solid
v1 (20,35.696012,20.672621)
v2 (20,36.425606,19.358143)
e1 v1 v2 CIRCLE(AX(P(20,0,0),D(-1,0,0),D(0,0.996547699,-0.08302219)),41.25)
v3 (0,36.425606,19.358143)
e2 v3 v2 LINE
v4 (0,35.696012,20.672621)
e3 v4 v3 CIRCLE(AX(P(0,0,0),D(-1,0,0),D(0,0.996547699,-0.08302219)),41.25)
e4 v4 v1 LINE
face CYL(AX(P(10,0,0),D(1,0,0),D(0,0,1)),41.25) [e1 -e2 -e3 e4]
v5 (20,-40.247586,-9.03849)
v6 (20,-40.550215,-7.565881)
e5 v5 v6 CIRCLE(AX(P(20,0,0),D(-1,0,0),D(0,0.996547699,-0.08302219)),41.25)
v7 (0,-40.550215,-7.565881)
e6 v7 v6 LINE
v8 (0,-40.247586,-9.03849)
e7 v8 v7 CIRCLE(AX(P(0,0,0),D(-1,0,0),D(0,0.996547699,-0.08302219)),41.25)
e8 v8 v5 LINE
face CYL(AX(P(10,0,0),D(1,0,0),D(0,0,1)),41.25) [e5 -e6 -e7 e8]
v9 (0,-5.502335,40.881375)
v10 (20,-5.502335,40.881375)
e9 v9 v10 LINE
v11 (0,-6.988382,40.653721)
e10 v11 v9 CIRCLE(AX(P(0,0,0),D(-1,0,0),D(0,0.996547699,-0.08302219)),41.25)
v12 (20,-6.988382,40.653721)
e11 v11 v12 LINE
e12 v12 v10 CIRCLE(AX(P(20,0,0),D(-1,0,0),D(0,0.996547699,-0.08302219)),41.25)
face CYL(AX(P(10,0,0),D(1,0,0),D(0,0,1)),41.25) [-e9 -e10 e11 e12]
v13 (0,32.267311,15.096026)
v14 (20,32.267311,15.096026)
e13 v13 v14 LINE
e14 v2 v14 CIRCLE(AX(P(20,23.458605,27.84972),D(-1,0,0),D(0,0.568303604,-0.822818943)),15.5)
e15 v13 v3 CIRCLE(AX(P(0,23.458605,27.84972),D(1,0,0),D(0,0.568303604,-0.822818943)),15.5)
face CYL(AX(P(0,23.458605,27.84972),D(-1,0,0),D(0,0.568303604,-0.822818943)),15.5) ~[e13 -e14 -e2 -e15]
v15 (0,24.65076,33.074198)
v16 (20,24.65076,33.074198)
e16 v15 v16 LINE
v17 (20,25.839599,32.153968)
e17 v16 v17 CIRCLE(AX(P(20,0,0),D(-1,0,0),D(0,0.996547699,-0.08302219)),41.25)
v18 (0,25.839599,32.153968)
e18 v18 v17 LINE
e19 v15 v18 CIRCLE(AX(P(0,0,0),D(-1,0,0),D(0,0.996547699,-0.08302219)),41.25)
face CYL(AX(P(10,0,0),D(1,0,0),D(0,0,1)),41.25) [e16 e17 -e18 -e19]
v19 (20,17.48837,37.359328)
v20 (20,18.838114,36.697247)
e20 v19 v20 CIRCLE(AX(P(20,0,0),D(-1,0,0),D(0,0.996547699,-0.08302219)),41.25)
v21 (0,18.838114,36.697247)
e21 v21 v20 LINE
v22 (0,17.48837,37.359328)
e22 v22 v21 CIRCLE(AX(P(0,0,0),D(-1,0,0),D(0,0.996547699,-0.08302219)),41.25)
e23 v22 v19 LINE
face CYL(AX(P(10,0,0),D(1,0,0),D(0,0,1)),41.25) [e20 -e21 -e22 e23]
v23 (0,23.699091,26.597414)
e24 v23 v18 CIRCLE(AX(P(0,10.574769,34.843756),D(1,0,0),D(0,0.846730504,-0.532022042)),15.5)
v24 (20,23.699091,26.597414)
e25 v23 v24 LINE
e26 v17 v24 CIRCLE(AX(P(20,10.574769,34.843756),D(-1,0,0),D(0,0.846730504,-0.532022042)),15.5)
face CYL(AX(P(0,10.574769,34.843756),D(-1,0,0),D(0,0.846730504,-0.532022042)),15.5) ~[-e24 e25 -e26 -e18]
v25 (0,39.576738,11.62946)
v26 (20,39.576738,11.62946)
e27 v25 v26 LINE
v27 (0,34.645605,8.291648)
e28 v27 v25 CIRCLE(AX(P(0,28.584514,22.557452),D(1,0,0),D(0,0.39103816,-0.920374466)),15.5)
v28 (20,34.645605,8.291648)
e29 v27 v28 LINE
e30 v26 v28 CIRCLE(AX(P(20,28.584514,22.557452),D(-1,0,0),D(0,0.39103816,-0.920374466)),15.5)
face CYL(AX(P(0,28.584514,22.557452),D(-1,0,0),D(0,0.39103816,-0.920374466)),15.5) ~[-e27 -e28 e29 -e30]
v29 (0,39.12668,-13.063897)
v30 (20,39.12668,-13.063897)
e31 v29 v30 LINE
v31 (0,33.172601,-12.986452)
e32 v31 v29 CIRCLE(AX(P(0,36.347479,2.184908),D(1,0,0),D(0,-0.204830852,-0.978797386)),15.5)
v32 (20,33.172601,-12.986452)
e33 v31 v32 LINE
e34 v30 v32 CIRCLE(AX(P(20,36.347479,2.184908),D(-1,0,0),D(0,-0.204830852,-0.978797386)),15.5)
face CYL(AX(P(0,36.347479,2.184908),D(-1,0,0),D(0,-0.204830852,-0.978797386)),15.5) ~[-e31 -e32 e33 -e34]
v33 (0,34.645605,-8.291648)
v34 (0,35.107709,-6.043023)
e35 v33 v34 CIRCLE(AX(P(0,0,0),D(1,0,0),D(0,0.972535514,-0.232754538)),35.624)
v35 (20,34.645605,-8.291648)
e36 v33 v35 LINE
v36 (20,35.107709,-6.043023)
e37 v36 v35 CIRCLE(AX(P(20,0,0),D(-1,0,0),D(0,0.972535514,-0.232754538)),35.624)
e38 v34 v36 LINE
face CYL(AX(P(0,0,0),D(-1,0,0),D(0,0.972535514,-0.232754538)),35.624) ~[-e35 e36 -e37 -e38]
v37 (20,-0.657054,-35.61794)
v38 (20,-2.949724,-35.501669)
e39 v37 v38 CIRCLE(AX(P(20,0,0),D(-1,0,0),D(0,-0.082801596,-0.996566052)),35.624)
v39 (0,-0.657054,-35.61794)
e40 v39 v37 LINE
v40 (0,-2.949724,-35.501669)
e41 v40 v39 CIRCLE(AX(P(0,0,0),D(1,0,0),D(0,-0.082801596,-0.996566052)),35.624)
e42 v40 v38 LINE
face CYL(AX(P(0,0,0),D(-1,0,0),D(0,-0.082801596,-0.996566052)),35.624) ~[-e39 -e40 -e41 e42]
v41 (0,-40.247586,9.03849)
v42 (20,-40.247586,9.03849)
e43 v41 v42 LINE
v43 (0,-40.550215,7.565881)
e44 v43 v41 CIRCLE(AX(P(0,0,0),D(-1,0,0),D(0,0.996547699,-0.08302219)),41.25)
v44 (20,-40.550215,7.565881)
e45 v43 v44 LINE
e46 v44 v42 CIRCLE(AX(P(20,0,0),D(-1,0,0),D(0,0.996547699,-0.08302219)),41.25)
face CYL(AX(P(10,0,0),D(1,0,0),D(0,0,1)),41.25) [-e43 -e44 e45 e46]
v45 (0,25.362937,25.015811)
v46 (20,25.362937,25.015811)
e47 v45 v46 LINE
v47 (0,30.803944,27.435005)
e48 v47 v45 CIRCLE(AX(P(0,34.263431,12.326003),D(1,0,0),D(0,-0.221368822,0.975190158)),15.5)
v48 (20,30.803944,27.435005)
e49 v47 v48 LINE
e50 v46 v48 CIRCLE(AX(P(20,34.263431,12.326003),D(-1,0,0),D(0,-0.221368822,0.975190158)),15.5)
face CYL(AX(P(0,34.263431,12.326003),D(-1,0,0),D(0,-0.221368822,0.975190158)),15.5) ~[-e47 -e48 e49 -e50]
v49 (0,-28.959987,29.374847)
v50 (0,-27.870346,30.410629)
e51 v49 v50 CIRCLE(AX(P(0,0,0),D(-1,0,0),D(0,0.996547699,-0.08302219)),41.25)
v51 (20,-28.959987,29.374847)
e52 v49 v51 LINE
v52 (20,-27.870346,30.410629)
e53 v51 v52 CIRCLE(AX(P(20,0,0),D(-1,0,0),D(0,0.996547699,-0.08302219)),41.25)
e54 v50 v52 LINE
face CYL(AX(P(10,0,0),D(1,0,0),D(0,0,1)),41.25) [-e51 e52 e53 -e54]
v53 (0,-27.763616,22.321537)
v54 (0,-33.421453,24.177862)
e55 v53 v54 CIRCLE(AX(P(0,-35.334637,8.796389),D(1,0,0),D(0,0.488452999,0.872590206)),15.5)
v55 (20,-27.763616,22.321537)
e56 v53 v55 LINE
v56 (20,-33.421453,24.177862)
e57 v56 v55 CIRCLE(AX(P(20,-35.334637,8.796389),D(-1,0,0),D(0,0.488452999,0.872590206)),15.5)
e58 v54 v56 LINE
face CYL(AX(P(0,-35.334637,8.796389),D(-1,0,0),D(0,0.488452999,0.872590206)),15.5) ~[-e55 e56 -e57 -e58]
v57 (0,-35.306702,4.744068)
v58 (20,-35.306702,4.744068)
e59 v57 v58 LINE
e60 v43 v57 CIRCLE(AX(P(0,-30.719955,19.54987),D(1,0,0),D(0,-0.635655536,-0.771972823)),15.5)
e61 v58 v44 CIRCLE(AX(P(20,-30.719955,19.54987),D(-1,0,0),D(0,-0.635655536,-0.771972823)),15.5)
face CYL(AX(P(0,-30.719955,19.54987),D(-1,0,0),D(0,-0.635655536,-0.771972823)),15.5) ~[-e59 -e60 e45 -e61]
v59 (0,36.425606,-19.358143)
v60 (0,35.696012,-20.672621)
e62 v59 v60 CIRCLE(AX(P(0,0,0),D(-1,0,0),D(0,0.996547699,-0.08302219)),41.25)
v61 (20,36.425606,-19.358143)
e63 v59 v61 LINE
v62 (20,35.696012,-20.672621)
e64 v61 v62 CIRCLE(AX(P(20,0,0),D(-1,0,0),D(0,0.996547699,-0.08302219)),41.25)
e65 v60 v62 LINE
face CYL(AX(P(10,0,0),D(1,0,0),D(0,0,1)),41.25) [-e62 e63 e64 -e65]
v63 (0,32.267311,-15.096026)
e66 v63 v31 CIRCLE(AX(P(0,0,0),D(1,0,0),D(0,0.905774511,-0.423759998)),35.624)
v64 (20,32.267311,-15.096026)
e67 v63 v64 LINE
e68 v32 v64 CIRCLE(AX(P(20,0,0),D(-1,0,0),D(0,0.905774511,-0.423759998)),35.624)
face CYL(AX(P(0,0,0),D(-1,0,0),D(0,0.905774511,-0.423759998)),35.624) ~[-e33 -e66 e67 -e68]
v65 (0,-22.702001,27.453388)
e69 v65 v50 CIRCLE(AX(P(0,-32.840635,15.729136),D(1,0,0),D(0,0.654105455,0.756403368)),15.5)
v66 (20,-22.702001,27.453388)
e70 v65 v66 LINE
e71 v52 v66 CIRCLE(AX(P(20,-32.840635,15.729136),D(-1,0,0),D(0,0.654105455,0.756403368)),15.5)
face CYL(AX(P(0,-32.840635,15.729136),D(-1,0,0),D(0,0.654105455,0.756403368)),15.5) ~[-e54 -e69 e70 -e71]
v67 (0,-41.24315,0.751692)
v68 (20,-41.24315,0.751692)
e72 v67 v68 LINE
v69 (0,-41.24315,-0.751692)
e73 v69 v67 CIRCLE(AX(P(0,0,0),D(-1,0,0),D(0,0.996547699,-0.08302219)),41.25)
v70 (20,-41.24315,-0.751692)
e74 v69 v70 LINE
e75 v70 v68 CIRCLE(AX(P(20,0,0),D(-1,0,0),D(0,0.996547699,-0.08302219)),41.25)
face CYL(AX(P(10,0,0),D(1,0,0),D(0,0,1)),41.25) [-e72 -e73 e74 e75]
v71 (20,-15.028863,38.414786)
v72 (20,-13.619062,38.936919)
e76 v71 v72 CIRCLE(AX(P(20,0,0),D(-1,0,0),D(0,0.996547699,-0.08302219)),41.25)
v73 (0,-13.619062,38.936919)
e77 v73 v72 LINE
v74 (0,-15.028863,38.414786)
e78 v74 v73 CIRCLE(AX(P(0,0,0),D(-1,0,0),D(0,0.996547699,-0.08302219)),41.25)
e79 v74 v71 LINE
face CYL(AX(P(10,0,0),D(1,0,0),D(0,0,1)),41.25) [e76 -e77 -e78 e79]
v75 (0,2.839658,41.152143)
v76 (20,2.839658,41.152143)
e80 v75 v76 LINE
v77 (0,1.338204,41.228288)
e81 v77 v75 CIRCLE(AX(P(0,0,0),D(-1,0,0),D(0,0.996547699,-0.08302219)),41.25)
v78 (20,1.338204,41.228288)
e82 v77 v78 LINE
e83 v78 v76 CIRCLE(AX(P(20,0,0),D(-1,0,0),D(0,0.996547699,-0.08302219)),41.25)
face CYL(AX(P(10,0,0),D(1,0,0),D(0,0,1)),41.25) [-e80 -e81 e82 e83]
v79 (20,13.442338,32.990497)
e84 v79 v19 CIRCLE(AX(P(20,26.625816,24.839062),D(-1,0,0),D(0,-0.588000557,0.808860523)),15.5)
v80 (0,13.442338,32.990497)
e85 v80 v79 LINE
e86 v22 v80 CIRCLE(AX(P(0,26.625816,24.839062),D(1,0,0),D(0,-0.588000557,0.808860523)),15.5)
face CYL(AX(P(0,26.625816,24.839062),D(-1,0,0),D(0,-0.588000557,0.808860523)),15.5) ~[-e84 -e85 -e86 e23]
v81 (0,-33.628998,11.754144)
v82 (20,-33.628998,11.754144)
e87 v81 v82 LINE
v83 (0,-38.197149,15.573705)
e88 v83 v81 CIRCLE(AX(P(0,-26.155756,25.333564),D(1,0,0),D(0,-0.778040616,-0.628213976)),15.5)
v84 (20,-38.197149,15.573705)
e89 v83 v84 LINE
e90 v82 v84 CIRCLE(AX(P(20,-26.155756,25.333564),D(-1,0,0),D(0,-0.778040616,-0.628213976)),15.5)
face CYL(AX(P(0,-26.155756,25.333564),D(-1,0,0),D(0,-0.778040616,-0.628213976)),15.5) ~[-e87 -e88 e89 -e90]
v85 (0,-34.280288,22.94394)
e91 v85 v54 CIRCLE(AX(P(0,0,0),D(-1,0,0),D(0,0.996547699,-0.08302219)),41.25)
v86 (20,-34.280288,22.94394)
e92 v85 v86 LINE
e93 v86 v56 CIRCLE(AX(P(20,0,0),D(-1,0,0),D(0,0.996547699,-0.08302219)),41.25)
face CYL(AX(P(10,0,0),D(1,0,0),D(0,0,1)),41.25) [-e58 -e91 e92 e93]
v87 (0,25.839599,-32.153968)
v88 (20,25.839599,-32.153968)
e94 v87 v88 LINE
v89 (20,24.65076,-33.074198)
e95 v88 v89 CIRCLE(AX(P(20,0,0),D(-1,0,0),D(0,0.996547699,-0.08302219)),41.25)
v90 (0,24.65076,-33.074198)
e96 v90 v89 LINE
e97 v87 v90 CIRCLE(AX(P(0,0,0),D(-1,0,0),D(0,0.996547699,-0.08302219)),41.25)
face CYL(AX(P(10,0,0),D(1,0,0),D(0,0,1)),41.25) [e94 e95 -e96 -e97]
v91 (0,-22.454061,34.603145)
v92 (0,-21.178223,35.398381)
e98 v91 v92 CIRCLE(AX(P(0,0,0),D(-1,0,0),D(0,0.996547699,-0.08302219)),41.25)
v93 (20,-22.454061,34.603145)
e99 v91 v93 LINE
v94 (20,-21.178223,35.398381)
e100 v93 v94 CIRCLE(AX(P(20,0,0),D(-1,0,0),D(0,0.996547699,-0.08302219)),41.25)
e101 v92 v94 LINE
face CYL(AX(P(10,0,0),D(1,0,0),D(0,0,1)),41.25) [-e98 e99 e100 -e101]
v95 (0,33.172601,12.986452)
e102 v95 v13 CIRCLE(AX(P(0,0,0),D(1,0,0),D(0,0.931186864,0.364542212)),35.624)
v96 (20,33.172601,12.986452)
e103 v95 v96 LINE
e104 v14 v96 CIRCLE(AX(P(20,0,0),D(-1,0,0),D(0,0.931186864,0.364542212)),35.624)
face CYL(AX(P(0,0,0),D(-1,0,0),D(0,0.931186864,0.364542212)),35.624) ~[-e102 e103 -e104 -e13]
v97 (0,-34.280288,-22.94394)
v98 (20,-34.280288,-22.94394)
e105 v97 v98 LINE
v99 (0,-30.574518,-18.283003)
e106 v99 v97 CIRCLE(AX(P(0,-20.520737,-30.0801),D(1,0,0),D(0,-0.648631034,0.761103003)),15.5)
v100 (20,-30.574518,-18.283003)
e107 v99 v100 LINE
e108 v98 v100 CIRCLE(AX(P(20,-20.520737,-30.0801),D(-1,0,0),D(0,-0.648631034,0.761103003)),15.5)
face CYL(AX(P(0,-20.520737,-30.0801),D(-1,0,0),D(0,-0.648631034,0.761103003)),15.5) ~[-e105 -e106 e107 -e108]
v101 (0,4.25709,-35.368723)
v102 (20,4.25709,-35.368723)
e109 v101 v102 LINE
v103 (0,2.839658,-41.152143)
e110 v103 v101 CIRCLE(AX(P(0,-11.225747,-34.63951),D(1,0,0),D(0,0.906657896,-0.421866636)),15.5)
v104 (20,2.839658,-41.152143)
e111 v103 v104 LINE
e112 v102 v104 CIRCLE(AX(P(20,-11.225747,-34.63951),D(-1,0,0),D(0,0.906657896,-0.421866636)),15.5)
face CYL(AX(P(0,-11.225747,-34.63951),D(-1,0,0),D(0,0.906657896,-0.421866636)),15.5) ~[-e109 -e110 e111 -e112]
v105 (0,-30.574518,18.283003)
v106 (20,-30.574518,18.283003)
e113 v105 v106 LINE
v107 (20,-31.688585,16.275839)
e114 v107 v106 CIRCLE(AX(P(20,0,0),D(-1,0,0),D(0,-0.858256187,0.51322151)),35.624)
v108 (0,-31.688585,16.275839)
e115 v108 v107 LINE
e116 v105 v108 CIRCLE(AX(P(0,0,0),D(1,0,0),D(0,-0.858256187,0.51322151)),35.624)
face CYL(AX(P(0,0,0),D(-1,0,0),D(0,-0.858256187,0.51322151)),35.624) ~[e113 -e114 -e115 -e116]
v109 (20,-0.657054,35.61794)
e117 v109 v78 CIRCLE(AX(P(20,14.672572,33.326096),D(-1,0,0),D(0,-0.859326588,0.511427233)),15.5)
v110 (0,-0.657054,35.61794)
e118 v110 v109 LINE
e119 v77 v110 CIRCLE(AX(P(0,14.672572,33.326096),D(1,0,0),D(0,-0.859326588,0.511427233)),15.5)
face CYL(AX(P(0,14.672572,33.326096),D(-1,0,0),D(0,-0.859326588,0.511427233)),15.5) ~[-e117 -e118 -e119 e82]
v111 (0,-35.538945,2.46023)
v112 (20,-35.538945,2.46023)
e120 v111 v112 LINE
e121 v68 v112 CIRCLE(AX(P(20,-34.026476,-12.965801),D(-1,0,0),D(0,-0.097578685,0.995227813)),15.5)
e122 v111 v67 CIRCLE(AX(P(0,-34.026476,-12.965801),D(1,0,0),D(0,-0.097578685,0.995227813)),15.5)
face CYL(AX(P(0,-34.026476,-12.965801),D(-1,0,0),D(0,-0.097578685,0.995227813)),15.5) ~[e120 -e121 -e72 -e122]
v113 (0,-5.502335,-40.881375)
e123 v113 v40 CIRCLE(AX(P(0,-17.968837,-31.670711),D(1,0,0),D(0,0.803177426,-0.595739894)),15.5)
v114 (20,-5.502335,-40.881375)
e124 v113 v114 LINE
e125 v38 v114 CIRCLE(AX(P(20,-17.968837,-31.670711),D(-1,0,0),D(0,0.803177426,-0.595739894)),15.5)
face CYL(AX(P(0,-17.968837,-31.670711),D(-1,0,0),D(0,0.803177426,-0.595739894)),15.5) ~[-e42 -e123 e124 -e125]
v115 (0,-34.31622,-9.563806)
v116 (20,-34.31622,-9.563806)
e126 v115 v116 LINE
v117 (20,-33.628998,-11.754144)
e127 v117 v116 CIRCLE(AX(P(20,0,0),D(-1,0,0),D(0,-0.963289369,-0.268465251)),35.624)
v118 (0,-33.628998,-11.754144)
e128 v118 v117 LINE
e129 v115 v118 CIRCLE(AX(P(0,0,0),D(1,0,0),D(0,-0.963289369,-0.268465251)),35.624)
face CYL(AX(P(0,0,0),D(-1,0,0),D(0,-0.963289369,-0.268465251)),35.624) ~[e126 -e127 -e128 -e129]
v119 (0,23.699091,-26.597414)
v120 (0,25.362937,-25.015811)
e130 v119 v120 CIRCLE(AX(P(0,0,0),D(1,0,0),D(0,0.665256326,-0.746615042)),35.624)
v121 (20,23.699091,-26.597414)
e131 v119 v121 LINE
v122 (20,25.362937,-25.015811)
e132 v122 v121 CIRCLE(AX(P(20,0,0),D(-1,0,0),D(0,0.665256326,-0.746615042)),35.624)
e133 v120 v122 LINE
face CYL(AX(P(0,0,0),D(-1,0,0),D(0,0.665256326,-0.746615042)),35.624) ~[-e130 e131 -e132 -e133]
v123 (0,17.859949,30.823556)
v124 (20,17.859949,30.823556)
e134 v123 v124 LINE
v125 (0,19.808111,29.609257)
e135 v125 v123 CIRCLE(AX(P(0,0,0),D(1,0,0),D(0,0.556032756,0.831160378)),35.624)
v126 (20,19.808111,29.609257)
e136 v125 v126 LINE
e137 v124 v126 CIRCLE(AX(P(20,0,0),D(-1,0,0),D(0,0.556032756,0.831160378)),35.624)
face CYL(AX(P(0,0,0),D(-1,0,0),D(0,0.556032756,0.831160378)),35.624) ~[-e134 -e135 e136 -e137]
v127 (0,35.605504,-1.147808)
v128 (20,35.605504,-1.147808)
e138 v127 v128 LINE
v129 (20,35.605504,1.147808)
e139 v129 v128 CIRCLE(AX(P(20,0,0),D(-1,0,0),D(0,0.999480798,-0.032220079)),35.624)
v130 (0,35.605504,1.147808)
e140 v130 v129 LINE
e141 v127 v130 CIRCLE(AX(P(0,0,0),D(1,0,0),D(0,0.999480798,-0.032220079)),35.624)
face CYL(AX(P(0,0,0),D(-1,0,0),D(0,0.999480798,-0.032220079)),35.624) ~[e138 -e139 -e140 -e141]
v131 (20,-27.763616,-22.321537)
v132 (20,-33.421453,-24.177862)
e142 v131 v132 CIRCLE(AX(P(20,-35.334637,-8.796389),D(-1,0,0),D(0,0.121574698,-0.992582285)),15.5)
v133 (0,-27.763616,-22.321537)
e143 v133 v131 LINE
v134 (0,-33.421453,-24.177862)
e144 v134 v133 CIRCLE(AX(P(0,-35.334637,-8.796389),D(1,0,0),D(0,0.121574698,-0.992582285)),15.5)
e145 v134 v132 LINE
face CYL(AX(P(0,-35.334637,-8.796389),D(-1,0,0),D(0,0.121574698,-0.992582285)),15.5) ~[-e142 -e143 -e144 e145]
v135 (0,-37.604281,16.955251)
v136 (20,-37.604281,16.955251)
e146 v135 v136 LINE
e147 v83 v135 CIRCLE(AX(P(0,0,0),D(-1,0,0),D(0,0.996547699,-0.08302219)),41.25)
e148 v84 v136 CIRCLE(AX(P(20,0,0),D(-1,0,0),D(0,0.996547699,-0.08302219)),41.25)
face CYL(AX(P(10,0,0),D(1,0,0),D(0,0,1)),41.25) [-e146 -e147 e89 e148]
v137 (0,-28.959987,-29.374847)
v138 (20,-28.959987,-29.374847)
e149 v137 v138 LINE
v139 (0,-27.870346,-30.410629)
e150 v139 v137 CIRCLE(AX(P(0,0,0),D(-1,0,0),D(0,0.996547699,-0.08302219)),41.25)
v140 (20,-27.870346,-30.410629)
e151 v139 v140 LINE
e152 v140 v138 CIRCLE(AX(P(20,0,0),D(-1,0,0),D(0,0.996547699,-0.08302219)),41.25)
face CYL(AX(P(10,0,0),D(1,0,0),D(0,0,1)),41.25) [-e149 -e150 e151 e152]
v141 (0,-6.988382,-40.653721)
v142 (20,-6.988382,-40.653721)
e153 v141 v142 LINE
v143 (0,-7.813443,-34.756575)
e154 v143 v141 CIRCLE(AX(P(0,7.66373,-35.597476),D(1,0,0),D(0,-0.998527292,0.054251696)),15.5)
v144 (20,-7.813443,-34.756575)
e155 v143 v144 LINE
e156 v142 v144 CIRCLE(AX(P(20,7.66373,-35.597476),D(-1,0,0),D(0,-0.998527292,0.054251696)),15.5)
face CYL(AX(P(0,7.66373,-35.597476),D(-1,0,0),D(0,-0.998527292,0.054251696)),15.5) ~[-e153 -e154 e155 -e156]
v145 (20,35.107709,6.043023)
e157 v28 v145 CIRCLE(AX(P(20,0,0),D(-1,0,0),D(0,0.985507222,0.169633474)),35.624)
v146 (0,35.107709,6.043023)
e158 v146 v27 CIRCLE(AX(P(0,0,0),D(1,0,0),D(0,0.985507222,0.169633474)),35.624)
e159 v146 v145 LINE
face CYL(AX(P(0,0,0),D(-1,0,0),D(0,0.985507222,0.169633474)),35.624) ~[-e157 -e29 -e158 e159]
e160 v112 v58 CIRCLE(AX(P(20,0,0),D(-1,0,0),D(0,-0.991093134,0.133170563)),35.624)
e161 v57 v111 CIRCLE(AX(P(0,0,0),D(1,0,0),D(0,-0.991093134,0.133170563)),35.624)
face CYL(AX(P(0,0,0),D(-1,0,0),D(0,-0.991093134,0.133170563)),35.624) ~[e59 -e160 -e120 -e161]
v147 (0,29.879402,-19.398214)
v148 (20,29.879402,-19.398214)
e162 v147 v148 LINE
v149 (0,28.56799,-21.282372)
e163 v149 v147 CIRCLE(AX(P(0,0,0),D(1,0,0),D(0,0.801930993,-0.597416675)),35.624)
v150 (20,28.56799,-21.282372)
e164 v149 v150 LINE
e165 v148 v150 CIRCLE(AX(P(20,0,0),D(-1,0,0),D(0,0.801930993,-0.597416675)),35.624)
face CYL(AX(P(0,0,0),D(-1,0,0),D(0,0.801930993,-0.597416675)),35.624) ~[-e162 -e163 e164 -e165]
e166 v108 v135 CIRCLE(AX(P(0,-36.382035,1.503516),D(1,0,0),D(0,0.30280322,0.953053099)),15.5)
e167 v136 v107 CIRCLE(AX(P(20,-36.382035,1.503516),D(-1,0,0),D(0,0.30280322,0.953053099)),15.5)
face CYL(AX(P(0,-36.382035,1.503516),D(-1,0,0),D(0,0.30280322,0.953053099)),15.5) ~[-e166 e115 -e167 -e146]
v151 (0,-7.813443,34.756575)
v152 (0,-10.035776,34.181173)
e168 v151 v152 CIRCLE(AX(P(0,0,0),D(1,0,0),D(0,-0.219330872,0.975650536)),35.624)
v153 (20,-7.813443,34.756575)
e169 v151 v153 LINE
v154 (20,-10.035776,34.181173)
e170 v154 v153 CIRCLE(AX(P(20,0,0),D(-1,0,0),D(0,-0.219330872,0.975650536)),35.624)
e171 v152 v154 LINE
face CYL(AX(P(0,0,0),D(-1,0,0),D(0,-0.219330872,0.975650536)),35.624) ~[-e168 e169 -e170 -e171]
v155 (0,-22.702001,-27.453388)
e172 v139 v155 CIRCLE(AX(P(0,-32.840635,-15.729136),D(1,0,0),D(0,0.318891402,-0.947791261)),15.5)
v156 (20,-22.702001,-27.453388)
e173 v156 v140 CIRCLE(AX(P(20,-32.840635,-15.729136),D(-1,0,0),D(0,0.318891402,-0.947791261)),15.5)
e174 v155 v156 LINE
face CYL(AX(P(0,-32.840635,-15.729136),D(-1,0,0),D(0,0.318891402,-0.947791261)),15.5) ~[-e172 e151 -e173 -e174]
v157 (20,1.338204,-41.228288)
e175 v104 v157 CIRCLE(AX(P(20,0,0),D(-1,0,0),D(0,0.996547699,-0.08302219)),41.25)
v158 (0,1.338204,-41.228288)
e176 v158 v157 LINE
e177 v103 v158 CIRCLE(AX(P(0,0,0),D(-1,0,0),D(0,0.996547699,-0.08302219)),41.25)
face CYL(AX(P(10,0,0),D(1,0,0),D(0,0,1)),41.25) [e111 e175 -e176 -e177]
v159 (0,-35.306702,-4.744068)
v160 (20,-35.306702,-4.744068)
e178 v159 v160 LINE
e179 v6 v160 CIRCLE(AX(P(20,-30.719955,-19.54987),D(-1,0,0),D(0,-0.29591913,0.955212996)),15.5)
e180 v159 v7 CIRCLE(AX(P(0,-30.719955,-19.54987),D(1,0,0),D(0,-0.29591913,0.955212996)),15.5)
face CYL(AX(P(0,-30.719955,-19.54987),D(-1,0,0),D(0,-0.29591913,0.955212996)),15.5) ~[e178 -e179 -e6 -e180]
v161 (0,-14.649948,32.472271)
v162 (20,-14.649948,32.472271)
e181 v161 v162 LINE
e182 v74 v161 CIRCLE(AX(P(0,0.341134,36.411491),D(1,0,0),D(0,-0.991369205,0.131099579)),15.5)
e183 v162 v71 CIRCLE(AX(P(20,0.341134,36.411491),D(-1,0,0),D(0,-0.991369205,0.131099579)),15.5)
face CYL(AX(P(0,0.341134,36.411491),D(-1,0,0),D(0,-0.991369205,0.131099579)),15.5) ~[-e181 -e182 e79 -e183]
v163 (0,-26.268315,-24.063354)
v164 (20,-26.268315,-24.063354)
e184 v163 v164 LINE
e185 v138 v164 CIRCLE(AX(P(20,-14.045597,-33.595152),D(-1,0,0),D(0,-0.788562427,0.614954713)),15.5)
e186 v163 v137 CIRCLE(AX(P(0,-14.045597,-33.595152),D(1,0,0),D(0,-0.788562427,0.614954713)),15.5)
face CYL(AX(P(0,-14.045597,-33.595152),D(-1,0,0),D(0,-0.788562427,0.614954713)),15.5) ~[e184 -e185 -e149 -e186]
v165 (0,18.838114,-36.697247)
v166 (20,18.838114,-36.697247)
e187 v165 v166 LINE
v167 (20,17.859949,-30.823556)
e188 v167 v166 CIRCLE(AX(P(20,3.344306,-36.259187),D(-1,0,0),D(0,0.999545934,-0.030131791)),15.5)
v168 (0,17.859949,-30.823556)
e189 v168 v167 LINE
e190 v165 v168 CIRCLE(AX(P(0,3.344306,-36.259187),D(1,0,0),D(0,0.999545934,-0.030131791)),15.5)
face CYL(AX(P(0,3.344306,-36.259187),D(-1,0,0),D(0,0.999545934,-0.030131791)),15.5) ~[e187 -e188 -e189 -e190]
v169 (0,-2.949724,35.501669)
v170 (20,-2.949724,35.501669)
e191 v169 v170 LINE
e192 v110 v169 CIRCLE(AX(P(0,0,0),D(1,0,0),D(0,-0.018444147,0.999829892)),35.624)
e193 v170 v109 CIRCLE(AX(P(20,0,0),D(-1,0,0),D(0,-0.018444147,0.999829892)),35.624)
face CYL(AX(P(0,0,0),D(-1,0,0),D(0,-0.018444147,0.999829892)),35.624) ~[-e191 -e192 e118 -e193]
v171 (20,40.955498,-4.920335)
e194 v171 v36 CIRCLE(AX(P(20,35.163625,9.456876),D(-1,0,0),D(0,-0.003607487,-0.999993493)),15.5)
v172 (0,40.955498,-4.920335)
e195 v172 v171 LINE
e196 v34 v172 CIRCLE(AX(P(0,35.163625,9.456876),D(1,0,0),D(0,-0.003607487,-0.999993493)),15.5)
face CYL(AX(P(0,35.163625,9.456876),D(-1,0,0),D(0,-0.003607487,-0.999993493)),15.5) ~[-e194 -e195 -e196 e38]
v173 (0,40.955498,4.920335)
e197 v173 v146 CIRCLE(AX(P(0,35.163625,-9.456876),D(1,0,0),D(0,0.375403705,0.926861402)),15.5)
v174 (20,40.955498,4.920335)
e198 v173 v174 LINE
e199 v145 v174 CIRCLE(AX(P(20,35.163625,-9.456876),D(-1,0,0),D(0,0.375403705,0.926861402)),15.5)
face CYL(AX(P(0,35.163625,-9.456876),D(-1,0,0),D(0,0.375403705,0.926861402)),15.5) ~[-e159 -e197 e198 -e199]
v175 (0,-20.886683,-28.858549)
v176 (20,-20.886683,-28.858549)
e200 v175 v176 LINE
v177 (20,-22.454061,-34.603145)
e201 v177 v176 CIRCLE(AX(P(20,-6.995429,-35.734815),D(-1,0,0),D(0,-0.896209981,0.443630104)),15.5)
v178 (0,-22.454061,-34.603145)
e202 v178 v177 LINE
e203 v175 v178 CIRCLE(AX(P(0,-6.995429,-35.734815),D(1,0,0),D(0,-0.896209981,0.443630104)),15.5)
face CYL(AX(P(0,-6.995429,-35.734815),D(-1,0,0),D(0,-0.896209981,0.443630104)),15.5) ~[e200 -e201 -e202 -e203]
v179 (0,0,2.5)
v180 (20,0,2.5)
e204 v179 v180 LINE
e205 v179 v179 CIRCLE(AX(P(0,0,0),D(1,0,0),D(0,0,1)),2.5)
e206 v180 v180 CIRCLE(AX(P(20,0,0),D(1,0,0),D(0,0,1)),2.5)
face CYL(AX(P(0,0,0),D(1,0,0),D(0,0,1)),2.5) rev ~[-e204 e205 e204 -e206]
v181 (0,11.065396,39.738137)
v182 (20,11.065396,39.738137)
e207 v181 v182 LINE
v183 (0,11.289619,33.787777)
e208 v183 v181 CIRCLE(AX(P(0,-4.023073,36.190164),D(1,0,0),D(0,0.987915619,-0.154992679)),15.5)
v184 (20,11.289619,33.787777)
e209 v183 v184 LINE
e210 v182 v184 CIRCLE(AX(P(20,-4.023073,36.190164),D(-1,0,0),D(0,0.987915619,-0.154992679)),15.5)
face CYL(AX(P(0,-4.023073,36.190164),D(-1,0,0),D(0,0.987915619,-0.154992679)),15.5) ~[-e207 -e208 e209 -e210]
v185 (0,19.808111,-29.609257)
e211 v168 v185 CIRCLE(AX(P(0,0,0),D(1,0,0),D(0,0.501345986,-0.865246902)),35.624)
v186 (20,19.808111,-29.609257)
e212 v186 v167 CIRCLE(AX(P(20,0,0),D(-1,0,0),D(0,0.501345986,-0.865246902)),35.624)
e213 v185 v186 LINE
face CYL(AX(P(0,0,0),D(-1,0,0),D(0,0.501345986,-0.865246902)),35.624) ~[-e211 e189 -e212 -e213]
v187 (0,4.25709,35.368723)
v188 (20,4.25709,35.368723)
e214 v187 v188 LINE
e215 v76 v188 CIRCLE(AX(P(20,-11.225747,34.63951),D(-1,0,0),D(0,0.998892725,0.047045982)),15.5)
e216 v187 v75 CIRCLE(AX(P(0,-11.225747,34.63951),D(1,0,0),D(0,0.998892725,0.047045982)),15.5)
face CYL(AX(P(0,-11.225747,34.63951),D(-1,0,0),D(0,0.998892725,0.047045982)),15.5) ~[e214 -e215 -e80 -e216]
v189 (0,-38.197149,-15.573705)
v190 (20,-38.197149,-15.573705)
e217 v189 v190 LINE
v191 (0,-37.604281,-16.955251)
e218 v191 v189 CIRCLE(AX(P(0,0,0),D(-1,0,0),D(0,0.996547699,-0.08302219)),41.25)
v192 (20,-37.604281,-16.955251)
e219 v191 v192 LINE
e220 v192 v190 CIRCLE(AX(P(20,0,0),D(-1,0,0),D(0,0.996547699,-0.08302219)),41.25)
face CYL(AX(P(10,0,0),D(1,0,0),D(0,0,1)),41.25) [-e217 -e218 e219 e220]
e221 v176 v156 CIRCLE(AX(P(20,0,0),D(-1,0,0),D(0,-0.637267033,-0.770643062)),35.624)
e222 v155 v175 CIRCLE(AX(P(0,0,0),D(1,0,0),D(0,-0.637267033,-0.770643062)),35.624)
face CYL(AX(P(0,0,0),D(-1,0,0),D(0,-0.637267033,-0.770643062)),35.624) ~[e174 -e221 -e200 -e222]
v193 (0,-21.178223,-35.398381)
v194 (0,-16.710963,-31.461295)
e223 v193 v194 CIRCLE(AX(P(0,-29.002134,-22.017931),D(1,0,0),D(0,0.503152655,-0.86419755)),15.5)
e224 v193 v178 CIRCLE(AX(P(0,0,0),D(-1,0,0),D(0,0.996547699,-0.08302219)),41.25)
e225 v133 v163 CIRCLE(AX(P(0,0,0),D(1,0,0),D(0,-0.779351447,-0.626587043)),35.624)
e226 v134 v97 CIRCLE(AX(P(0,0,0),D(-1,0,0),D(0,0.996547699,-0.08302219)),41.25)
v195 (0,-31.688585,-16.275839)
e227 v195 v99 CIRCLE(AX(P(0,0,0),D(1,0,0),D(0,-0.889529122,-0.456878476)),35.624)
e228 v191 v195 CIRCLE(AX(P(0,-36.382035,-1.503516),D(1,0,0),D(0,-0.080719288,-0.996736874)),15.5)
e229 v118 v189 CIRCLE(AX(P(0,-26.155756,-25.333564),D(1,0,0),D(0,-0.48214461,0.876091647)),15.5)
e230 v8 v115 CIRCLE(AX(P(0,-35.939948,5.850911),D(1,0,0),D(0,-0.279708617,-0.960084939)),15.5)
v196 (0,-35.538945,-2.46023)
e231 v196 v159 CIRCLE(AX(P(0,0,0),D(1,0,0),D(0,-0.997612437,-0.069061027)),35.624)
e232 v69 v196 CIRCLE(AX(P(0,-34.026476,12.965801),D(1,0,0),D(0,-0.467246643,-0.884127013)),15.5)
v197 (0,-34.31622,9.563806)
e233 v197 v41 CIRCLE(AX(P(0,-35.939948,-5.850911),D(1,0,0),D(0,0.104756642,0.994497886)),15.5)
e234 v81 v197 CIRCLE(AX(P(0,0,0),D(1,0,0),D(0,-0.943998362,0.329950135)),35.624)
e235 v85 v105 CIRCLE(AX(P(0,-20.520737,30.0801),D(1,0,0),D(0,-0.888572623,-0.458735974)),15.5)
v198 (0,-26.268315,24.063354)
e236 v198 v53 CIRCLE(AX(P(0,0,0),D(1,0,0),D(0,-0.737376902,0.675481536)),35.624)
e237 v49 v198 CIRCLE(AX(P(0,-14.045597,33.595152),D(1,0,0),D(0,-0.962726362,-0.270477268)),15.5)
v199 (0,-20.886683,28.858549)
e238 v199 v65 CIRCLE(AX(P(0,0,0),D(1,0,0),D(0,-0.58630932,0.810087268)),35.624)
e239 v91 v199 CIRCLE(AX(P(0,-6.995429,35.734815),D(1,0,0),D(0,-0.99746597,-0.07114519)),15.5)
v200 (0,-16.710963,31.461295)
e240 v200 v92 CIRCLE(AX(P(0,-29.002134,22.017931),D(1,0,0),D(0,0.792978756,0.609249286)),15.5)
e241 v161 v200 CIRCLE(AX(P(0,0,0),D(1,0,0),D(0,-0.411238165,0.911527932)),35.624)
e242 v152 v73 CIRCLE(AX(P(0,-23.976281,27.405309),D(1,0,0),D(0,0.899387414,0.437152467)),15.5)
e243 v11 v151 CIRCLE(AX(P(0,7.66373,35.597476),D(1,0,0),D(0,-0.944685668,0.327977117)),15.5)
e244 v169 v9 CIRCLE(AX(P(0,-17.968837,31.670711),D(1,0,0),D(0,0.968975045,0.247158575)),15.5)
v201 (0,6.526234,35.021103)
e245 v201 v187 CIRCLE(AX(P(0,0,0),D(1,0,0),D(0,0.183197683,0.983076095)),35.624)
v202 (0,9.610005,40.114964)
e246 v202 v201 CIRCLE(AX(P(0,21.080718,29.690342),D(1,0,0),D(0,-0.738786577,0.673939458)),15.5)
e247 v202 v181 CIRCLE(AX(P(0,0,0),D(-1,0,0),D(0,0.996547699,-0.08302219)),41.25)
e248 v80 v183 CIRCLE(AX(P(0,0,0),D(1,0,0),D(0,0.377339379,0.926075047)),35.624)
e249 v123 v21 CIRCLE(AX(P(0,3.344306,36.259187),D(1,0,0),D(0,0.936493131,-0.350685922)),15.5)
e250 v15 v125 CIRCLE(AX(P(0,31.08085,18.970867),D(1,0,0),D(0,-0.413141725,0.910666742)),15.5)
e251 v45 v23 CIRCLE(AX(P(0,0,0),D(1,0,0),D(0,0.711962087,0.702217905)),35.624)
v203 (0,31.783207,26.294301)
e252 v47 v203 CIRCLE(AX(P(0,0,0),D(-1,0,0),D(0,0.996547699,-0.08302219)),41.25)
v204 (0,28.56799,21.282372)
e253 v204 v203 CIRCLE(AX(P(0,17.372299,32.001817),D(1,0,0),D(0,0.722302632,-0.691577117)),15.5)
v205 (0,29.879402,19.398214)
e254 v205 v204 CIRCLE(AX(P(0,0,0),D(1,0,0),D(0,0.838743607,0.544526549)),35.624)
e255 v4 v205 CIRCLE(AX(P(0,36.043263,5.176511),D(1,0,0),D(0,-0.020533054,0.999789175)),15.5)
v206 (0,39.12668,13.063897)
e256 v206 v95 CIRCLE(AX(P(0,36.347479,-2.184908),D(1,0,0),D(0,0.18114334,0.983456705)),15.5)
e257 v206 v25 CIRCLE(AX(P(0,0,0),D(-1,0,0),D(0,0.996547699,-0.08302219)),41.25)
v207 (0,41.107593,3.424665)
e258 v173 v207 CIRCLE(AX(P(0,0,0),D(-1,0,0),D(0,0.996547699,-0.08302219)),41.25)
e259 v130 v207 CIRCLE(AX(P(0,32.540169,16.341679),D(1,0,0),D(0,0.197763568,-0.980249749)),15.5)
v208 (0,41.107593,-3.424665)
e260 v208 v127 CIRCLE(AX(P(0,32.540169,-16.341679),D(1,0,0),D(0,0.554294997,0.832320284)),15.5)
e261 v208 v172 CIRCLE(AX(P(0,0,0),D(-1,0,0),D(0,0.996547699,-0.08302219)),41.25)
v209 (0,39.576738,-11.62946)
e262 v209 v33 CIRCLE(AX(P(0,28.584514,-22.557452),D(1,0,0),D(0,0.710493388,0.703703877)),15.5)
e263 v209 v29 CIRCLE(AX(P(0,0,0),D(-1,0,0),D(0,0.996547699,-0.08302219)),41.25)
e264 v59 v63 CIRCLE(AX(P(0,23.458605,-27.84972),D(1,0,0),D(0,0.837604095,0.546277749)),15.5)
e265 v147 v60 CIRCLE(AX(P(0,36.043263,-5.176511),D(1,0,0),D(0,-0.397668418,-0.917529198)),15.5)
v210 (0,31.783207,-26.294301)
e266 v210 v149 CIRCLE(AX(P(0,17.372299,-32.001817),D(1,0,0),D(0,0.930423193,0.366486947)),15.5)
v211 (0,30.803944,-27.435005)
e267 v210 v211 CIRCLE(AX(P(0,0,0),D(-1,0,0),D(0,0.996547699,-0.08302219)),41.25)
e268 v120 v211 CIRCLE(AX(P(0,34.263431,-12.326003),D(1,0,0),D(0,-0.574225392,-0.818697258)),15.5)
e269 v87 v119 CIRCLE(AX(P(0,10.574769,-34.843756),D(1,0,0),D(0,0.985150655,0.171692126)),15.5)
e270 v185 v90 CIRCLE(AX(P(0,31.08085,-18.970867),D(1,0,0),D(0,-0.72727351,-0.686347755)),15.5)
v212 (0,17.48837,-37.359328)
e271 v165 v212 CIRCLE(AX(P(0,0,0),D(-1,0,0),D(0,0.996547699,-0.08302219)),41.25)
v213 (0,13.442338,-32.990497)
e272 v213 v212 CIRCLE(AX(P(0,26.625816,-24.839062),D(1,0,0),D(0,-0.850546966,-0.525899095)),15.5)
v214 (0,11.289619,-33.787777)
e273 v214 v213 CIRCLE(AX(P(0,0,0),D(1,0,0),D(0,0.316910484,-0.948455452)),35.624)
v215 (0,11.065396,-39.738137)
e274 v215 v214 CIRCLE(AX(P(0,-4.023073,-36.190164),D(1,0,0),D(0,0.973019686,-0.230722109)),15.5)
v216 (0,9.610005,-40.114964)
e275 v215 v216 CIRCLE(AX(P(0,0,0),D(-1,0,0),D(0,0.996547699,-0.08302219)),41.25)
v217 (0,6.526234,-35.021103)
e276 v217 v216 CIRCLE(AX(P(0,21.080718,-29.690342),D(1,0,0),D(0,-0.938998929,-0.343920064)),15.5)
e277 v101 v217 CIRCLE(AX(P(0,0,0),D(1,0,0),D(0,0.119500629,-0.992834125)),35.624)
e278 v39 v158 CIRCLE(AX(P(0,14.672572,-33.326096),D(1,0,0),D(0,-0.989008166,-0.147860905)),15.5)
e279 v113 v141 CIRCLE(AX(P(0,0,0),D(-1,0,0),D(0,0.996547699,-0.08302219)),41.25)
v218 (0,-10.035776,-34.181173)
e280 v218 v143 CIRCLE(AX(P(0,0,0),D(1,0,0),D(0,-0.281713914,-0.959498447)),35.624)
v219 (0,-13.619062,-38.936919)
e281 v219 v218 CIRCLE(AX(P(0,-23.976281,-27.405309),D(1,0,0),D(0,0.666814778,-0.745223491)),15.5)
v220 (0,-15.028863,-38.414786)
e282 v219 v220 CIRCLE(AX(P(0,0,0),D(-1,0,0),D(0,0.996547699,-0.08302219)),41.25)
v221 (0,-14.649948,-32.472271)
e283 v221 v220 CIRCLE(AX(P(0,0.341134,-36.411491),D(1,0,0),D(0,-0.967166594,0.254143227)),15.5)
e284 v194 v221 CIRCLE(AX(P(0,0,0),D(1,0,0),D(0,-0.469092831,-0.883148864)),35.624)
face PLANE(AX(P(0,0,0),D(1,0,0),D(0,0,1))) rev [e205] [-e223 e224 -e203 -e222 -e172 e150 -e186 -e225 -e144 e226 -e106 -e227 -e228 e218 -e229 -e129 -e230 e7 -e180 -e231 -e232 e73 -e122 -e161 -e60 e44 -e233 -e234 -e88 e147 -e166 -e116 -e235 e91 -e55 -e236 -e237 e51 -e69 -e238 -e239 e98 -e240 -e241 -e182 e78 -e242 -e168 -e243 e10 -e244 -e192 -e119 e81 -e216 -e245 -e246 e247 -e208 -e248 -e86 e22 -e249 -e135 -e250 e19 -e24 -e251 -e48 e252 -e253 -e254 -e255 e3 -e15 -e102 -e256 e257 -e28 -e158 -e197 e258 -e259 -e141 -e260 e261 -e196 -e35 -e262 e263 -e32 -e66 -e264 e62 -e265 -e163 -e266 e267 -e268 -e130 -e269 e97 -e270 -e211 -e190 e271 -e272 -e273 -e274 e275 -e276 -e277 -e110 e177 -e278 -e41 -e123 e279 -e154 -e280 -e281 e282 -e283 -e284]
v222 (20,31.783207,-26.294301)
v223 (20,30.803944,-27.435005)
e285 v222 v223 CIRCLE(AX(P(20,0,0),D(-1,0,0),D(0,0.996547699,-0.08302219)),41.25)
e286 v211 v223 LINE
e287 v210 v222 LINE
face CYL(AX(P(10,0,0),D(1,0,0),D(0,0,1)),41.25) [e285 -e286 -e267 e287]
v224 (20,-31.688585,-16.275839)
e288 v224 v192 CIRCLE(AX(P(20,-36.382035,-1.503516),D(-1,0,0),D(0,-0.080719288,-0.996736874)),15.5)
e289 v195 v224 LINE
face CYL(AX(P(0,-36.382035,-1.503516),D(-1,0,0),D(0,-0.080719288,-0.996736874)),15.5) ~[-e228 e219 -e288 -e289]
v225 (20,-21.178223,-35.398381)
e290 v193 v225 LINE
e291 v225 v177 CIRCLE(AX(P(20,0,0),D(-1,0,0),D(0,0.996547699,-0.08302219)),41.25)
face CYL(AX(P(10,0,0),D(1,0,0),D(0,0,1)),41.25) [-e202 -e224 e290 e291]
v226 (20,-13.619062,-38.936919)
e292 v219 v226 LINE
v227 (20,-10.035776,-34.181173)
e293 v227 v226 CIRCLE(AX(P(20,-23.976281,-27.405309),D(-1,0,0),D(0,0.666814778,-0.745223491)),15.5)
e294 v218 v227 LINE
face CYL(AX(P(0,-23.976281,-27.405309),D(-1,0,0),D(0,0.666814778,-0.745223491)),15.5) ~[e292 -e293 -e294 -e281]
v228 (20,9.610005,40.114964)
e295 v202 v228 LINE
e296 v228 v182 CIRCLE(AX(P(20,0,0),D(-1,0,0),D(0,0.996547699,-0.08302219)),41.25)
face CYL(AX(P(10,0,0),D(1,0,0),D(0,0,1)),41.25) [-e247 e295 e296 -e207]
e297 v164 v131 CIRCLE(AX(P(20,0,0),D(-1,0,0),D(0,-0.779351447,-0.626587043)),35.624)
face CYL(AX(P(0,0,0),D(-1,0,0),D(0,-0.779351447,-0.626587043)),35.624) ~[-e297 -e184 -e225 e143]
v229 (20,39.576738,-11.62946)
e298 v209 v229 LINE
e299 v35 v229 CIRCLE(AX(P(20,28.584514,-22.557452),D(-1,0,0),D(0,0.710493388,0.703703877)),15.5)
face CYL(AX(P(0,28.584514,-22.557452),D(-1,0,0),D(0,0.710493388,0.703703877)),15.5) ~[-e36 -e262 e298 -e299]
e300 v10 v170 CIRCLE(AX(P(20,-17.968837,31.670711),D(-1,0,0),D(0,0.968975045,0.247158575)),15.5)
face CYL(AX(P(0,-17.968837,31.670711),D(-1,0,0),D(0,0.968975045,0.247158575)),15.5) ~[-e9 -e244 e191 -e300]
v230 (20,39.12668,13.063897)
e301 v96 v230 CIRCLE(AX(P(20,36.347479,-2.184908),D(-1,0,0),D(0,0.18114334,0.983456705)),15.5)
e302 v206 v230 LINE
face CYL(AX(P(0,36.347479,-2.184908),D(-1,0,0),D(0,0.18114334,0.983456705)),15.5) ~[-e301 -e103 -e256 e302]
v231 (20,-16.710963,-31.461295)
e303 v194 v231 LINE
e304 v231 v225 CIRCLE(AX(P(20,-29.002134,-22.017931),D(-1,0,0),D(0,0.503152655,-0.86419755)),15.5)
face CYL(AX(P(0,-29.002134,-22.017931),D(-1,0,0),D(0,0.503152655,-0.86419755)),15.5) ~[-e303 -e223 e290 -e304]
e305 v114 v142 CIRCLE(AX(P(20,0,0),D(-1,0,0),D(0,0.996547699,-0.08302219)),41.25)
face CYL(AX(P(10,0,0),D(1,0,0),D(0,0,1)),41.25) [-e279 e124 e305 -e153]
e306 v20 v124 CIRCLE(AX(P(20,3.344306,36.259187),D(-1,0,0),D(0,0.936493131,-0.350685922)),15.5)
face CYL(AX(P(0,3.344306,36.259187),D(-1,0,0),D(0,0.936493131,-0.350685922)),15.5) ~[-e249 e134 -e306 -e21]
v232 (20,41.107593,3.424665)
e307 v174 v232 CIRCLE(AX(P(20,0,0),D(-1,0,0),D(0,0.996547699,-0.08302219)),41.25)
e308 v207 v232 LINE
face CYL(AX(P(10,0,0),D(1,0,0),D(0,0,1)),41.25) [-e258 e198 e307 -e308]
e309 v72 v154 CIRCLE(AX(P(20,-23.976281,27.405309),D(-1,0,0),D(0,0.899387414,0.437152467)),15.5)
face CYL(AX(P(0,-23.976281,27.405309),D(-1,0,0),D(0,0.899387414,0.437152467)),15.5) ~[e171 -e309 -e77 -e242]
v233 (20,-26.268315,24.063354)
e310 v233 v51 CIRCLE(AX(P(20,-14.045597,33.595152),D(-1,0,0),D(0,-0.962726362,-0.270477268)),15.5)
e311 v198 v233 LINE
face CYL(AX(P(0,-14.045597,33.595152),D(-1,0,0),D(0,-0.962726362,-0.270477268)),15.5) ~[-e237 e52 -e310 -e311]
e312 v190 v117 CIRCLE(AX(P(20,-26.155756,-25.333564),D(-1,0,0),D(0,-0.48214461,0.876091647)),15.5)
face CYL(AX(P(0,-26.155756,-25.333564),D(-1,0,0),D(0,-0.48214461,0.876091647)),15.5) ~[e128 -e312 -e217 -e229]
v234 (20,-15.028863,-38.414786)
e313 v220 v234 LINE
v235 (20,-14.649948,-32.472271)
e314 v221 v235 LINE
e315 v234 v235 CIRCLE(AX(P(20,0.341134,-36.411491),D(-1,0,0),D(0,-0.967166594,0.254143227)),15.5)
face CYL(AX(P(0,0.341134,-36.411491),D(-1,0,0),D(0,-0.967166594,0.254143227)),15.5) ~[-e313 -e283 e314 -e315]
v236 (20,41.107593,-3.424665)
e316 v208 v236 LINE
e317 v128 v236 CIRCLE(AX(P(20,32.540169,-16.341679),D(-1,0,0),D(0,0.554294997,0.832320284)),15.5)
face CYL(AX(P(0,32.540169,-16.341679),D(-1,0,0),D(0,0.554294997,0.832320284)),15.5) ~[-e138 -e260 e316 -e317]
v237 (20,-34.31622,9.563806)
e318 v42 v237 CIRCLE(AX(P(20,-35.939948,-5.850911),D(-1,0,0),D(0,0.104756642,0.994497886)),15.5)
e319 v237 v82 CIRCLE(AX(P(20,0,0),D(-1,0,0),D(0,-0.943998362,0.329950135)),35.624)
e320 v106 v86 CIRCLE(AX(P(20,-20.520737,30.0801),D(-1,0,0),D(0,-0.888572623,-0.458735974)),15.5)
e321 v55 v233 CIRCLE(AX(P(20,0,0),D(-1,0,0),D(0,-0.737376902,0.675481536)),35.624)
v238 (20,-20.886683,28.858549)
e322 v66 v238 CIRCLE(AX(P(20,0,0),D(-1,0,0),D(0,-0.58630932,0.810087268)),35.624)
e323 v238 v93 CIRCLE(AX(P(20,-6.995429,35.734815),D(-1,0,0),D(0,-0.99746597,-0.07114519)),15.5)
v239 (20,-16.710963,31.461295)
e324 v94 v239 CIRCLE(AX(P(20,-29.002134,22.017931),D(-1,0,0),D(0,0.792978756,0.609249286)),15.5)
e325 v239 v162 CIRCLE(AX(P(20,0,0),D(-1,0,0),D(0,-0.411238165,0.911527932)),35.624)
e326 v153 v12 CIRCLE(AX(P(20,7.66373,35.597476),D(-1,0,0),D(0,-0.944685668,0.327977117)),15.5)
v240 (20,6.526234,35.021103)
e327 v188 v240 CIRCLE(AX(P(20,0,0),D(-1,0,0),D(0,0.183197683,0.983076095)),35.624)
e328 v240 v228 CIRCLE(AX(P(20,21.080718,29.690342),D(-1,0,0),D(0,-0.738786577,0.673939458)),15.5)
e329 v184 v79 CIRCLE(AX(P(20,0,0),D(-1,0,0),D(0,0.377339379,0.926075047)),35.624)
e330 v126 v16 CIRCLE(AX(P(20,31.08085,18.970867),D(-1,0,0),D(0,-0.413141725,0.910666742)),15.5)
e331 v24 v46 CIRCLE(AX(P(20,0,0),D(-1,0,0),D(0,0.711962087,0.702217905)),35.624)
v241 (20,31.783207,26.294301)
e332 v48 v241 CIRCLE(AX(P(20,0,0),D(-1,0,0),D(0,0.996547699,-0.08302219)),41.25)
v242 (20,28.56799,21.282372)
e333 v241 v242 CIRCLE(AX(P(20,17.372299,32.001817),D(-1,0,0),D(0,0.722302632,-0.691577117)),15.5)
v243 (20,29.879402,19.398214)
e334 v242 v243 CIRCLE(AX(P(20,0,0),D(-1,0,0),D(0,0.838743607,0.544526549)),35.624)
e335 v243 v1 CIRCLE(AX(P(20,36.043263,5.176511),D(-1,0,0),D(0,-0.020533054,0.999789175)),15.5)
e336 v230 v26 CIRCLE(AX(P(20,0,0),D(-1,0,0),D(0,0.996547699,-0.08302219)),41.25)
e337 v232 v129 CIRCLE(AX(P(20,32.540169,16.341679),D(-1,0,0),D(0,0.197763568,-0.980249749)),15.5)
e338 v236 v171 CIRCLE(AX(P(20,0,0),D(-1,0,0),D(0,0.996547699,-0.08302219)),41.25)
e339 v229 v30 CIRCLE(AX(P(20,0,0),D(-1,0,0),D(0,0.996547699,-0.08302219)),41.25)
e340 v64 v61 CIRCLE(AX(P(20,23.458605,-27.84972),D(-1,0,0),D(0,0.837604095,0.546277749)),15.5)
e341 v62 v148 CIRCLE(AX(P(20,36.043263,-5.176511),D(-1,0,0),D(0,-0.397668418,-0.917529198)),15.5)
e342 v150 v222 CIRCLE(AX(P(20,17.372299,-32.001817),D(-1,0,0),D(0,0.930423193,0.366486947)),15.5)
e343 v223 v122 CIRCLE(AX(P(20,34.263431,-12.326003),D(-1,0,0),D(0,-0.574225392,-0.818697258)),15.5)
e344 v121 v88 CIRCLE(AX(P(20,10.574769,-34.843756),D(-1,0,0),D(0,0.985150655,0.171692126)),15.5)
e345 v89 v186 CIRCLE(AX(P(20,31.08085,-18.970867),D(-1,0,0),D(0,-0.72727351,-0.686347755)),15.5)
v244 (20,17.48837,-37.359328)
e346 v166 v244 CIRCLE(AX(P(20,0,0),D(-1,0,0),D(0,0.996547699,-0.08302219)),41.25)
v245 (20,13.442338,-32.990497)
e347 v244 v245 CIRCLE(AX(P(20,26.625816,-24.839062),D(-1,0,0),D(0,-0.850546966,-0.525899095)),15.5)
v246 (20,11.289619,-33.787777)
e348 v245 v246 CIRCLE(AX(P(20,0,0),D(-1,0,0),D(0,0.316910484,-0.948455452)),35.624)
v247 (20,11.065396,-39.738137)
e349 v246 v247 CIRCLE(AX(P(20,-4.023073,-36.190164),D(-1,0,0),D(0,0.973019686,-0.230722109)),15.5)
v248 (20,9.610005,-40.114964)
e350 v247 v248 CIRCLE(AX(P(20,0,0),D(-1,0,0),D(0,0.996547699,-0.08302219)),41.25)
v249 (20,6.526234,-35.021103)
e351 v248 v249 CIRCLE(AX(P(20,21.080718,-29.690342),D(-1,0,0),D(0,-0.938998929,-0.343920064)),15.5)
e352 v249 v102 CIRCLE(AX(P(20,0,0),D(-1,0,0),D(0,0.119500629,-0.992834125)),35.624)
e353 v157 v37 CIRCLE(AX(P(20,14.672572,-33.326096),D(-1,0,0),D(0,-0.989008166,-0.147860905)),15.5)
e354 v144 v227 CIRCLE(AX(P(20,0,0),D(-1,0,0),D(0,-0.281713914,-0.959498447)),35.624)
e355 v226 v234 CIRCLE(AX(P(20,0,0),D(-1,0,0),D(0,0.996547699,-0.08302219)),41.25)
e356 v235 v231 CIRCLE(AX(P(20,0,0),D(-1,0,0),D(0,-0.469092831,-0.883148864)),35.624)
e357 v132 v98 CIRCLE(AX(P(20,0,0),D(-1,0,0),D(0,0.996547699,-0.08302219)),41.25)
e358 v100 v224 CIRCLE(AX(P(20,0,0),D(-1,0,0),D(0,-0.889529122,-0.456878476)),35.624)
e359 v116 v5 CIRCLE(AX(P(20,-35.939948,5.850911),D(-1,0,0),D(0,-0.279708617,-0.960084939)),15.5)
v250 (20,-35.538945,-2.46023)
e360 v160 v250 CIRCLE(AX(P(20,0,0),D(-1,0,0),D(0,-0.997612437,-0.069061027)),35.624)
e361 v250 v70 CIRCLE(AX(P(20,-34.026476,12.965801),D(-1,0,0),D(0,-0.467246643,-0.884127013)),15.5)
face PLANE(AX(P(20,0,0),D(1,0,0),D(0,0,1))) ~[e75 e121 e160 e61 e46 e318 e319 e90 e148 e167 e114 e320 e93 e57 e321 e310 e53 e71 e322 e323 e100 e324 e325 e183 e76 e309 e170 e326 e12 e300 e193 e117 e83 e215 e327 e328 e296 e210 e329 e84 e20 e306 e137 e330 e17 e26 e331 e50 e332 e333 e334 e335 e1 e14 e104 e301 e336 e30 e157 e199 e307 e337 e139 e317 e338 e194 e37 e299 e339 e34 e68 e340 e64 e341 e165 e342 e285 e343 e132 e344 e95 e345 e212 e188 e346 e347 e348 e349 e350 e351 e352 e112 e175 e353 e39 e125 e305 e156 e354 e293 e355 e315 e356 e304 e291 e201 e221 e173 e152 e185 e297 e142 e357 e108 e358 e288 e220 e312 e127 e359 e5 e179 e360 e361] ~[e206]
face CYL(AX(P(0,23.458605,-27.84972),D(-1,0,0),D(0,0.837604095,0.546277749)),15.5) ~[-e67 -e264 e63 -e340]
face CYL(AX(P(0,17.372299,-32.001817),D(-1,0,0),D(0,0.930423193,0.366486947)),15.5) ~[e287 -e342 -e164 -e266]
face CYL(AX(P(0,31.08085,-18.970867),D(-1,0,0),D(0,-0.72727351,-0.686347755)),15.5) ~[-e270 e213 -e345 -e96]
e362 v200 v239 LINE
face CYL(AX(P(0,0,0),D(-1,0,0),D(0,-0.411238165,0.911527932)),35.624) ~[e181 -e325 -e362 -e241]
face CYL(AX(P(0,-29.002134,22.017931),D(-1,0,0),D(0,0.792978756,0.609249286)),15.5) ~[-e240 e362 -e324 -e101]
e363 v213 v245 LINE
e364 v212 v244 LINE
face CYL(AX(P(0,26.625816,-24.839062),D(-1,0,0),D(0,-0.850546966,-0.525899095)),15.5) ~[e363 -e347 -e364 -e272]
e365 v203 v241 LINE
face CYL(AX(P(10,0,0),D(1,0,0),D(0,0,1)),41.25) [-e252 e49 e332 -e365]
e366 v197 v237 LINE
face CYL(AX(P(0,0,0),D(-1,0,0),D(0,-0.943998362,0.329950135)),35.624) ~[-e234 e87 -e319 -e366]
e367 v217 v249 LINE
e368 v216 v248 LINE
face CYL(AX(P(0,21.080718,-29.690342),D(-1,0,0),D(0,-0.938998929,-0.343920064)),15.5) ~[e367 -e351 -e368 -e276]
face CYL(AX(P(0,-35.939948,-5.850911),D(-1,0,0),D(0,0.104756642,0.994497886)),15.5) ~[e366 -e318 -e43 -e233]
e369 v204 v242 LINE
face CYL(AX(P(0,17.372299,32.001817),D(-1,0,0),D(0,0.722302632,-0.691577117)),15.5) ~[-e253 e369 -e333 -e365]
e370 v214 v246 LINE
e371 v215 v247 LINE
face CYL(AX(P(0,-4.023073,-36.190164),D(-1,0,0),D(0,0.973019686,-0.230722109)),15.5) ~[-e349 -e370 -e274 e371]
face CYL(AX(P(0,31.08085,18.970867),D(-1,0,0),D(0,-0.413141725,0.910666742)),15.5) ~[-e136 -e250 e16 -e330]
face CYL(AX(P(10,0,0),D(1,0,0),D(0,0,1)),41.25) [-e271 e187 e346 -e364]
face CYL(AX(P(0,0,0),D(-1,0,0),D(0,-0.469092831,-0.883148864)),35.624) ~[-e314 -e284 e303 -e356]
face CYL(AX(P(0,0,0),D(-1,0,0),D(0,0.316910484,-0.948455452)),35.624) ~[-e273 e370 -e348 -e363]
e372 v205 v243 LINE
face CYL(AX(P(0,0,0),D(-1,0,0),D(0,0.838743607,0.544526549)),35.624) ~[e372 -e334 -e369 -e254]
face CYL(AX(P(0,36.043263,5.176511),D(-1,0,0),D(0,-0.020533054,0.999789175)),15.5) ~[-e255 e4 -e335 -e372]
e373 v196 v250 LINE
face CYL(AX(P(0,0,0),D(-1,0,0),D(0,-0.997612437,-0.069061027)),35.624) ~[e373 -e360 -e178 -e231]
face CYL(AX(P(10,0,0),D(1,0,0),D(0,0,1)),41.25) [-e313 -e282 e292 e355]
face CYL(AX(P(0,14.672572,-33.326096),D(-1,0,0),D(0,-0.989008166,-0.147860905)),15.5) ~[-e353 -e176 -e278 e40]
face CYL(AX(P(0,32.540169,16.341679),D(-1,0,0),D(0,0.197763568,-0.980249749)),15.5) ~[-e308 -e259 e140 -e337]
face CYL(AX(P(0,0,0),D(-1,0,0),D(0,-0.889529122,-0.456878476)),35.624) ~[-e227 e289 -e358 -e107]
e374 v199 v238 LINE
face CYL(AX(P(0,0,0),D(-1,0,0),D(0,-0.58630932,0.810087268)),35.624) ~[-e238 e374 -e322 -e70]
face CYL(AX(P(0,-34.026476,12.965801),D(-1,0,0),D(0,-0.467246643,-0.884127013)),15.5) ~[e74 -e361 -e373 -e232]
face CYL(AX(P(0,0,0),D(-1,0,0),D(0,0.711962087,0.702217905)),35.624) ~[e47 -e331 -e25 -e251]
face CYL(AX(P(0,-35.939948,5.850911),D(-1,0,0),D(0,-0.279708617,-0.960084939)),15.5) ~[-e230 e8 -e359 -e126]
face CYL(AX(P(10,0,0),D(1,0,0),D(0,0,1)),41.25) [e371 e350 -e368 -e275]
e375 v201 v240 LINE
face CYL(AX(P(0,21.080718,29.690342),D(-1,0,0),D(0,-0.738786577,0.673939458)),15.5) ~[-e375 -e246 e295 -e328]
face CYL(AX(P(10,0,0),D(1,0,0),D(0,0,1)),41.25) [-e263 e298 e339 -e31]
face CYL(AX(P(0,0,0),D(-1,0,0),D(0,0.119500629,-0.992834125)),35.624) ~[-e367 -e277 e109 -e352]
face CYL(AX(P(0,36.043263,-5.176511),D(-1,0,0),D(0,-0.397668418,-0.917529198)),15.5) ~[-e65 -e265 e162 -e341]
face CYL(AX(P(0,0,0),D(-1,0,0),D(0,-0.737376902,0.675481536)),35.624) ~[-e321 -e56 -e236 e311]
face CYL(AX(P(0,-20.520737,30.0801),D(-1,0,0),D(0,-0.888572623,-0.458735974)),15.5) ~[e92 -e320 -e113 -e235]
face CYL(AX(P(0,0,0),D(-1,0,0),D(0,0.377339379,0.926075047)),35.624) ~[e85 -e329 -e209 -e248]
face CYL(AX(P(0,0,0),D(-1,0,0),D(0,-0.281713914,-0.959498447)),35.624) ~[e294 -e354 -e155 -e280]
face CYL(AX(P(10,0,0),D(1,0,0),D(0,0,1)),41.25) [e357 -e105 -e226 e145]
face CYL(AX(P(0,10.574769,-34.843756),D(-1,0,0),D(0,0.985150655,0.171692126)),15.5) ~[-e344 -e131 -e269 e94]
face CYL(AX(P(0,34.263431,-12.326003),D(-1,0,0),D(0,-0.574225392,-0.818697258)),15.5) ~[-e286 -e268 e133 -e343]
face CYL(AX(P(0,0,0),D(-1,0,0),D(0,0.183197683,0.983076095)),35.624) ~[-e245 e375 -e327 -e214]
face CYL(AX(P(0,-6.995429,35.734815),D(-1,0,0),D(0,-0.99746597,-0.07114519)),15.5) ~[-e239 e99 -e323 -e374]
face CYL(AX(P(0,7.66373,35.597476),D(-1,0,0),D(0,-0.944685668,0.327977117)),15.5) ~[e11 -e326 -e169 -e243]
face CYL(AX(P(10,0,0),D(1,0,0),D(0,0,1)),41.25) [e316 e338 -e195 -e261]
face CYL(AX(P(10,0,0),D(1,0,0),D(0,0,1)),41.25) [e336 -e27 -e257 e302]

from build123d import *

# Parameters (mm, degrees)
BASPROSKE_W     = 20
BASPROSKE_H     = 41.25
TOOTHCUT_DEPTH  = 62.669481918
TEETHCUTS_COUNT = 31
TEETHCUTS_ANGLE = 348.387096774
BORSKE_R        = 2.5
BORE_DEPTH      = 50.0000508


with BuildPart() as part:
    # BasProSke → Base-Revolve (revolve)
    with BuildSketch(Plane(origin=(0, 0, 0), x_dir=(1, 0, 0), z_dir=(0, 1, 0)), mode=Mode.PRIVATE) as base_revolve_sk:
        with Locations((10, 20.625)):
            Rectangle(BASPROSKE_W, BASPROSKE_H)
    revolve(base_revolve_sk.sketch.rotate(Axis((-10, 0, 0), (1, 0, 0)), 180), axis=Axis((-10, 0, 0), (1, 0, 0)))

    # TooCutSke → ToothCut (cut, through all)
    with BuildSketch(Plane(origin=(0, 0, 0), x_dir=(0, 0, -1), z_dir=(1, 0, 0))):
        with BuildLine():
            ThreePointArc((1.147808078, 35.605503965), (0, 35.624), (-1.147808078, 35.605503965))
            ThreePointArc((-1.147808078, 35.605503965), (-2.025088466, 38.480305856), (-3.440714783, 41.131741112))
            ThreePointArc((-3.440714783, 41.131741112), (0, 41.2754), (3.440714783, 41.131741112))
            ThreePointArc((3.440714783, 41.131741112), (2.025088466, 38.480305856), (1.147808078, 35.605503965))
        make_face()
    toothcut = extrude(amount=TOOTHCUT_DEPTH, mode=Mode.SUBTRACT)

    # TeethCuts: ToothCut ×31 about axis
    teethcuts_axis = Axis((-10, 0, 0), (1, 0, 0))
    for i in range(1, TEETHCUTS_COUNT):
        add(toothcut.rotate(teethcuts_axis, i * TEETHCUTS_ANGLE / (TEETHCUTS_COUNT - 1)), mode=Mode.SUBTRACT)

    # BorSke → Bore (cut, symmetric)
    with BuildSketch(Plane(origin=(0, 0, 0), x_dir=(0, 0, -1), z_dir=(1, 0, 0))):
        with Locations(Location((0, 0, 0), (0, 0, 180))):
            Circle(BORSKE_R)
    extrude(amount=BORE_DEPTH, both=True, mode=Mode.SUBTRACT)


solid = part.part
